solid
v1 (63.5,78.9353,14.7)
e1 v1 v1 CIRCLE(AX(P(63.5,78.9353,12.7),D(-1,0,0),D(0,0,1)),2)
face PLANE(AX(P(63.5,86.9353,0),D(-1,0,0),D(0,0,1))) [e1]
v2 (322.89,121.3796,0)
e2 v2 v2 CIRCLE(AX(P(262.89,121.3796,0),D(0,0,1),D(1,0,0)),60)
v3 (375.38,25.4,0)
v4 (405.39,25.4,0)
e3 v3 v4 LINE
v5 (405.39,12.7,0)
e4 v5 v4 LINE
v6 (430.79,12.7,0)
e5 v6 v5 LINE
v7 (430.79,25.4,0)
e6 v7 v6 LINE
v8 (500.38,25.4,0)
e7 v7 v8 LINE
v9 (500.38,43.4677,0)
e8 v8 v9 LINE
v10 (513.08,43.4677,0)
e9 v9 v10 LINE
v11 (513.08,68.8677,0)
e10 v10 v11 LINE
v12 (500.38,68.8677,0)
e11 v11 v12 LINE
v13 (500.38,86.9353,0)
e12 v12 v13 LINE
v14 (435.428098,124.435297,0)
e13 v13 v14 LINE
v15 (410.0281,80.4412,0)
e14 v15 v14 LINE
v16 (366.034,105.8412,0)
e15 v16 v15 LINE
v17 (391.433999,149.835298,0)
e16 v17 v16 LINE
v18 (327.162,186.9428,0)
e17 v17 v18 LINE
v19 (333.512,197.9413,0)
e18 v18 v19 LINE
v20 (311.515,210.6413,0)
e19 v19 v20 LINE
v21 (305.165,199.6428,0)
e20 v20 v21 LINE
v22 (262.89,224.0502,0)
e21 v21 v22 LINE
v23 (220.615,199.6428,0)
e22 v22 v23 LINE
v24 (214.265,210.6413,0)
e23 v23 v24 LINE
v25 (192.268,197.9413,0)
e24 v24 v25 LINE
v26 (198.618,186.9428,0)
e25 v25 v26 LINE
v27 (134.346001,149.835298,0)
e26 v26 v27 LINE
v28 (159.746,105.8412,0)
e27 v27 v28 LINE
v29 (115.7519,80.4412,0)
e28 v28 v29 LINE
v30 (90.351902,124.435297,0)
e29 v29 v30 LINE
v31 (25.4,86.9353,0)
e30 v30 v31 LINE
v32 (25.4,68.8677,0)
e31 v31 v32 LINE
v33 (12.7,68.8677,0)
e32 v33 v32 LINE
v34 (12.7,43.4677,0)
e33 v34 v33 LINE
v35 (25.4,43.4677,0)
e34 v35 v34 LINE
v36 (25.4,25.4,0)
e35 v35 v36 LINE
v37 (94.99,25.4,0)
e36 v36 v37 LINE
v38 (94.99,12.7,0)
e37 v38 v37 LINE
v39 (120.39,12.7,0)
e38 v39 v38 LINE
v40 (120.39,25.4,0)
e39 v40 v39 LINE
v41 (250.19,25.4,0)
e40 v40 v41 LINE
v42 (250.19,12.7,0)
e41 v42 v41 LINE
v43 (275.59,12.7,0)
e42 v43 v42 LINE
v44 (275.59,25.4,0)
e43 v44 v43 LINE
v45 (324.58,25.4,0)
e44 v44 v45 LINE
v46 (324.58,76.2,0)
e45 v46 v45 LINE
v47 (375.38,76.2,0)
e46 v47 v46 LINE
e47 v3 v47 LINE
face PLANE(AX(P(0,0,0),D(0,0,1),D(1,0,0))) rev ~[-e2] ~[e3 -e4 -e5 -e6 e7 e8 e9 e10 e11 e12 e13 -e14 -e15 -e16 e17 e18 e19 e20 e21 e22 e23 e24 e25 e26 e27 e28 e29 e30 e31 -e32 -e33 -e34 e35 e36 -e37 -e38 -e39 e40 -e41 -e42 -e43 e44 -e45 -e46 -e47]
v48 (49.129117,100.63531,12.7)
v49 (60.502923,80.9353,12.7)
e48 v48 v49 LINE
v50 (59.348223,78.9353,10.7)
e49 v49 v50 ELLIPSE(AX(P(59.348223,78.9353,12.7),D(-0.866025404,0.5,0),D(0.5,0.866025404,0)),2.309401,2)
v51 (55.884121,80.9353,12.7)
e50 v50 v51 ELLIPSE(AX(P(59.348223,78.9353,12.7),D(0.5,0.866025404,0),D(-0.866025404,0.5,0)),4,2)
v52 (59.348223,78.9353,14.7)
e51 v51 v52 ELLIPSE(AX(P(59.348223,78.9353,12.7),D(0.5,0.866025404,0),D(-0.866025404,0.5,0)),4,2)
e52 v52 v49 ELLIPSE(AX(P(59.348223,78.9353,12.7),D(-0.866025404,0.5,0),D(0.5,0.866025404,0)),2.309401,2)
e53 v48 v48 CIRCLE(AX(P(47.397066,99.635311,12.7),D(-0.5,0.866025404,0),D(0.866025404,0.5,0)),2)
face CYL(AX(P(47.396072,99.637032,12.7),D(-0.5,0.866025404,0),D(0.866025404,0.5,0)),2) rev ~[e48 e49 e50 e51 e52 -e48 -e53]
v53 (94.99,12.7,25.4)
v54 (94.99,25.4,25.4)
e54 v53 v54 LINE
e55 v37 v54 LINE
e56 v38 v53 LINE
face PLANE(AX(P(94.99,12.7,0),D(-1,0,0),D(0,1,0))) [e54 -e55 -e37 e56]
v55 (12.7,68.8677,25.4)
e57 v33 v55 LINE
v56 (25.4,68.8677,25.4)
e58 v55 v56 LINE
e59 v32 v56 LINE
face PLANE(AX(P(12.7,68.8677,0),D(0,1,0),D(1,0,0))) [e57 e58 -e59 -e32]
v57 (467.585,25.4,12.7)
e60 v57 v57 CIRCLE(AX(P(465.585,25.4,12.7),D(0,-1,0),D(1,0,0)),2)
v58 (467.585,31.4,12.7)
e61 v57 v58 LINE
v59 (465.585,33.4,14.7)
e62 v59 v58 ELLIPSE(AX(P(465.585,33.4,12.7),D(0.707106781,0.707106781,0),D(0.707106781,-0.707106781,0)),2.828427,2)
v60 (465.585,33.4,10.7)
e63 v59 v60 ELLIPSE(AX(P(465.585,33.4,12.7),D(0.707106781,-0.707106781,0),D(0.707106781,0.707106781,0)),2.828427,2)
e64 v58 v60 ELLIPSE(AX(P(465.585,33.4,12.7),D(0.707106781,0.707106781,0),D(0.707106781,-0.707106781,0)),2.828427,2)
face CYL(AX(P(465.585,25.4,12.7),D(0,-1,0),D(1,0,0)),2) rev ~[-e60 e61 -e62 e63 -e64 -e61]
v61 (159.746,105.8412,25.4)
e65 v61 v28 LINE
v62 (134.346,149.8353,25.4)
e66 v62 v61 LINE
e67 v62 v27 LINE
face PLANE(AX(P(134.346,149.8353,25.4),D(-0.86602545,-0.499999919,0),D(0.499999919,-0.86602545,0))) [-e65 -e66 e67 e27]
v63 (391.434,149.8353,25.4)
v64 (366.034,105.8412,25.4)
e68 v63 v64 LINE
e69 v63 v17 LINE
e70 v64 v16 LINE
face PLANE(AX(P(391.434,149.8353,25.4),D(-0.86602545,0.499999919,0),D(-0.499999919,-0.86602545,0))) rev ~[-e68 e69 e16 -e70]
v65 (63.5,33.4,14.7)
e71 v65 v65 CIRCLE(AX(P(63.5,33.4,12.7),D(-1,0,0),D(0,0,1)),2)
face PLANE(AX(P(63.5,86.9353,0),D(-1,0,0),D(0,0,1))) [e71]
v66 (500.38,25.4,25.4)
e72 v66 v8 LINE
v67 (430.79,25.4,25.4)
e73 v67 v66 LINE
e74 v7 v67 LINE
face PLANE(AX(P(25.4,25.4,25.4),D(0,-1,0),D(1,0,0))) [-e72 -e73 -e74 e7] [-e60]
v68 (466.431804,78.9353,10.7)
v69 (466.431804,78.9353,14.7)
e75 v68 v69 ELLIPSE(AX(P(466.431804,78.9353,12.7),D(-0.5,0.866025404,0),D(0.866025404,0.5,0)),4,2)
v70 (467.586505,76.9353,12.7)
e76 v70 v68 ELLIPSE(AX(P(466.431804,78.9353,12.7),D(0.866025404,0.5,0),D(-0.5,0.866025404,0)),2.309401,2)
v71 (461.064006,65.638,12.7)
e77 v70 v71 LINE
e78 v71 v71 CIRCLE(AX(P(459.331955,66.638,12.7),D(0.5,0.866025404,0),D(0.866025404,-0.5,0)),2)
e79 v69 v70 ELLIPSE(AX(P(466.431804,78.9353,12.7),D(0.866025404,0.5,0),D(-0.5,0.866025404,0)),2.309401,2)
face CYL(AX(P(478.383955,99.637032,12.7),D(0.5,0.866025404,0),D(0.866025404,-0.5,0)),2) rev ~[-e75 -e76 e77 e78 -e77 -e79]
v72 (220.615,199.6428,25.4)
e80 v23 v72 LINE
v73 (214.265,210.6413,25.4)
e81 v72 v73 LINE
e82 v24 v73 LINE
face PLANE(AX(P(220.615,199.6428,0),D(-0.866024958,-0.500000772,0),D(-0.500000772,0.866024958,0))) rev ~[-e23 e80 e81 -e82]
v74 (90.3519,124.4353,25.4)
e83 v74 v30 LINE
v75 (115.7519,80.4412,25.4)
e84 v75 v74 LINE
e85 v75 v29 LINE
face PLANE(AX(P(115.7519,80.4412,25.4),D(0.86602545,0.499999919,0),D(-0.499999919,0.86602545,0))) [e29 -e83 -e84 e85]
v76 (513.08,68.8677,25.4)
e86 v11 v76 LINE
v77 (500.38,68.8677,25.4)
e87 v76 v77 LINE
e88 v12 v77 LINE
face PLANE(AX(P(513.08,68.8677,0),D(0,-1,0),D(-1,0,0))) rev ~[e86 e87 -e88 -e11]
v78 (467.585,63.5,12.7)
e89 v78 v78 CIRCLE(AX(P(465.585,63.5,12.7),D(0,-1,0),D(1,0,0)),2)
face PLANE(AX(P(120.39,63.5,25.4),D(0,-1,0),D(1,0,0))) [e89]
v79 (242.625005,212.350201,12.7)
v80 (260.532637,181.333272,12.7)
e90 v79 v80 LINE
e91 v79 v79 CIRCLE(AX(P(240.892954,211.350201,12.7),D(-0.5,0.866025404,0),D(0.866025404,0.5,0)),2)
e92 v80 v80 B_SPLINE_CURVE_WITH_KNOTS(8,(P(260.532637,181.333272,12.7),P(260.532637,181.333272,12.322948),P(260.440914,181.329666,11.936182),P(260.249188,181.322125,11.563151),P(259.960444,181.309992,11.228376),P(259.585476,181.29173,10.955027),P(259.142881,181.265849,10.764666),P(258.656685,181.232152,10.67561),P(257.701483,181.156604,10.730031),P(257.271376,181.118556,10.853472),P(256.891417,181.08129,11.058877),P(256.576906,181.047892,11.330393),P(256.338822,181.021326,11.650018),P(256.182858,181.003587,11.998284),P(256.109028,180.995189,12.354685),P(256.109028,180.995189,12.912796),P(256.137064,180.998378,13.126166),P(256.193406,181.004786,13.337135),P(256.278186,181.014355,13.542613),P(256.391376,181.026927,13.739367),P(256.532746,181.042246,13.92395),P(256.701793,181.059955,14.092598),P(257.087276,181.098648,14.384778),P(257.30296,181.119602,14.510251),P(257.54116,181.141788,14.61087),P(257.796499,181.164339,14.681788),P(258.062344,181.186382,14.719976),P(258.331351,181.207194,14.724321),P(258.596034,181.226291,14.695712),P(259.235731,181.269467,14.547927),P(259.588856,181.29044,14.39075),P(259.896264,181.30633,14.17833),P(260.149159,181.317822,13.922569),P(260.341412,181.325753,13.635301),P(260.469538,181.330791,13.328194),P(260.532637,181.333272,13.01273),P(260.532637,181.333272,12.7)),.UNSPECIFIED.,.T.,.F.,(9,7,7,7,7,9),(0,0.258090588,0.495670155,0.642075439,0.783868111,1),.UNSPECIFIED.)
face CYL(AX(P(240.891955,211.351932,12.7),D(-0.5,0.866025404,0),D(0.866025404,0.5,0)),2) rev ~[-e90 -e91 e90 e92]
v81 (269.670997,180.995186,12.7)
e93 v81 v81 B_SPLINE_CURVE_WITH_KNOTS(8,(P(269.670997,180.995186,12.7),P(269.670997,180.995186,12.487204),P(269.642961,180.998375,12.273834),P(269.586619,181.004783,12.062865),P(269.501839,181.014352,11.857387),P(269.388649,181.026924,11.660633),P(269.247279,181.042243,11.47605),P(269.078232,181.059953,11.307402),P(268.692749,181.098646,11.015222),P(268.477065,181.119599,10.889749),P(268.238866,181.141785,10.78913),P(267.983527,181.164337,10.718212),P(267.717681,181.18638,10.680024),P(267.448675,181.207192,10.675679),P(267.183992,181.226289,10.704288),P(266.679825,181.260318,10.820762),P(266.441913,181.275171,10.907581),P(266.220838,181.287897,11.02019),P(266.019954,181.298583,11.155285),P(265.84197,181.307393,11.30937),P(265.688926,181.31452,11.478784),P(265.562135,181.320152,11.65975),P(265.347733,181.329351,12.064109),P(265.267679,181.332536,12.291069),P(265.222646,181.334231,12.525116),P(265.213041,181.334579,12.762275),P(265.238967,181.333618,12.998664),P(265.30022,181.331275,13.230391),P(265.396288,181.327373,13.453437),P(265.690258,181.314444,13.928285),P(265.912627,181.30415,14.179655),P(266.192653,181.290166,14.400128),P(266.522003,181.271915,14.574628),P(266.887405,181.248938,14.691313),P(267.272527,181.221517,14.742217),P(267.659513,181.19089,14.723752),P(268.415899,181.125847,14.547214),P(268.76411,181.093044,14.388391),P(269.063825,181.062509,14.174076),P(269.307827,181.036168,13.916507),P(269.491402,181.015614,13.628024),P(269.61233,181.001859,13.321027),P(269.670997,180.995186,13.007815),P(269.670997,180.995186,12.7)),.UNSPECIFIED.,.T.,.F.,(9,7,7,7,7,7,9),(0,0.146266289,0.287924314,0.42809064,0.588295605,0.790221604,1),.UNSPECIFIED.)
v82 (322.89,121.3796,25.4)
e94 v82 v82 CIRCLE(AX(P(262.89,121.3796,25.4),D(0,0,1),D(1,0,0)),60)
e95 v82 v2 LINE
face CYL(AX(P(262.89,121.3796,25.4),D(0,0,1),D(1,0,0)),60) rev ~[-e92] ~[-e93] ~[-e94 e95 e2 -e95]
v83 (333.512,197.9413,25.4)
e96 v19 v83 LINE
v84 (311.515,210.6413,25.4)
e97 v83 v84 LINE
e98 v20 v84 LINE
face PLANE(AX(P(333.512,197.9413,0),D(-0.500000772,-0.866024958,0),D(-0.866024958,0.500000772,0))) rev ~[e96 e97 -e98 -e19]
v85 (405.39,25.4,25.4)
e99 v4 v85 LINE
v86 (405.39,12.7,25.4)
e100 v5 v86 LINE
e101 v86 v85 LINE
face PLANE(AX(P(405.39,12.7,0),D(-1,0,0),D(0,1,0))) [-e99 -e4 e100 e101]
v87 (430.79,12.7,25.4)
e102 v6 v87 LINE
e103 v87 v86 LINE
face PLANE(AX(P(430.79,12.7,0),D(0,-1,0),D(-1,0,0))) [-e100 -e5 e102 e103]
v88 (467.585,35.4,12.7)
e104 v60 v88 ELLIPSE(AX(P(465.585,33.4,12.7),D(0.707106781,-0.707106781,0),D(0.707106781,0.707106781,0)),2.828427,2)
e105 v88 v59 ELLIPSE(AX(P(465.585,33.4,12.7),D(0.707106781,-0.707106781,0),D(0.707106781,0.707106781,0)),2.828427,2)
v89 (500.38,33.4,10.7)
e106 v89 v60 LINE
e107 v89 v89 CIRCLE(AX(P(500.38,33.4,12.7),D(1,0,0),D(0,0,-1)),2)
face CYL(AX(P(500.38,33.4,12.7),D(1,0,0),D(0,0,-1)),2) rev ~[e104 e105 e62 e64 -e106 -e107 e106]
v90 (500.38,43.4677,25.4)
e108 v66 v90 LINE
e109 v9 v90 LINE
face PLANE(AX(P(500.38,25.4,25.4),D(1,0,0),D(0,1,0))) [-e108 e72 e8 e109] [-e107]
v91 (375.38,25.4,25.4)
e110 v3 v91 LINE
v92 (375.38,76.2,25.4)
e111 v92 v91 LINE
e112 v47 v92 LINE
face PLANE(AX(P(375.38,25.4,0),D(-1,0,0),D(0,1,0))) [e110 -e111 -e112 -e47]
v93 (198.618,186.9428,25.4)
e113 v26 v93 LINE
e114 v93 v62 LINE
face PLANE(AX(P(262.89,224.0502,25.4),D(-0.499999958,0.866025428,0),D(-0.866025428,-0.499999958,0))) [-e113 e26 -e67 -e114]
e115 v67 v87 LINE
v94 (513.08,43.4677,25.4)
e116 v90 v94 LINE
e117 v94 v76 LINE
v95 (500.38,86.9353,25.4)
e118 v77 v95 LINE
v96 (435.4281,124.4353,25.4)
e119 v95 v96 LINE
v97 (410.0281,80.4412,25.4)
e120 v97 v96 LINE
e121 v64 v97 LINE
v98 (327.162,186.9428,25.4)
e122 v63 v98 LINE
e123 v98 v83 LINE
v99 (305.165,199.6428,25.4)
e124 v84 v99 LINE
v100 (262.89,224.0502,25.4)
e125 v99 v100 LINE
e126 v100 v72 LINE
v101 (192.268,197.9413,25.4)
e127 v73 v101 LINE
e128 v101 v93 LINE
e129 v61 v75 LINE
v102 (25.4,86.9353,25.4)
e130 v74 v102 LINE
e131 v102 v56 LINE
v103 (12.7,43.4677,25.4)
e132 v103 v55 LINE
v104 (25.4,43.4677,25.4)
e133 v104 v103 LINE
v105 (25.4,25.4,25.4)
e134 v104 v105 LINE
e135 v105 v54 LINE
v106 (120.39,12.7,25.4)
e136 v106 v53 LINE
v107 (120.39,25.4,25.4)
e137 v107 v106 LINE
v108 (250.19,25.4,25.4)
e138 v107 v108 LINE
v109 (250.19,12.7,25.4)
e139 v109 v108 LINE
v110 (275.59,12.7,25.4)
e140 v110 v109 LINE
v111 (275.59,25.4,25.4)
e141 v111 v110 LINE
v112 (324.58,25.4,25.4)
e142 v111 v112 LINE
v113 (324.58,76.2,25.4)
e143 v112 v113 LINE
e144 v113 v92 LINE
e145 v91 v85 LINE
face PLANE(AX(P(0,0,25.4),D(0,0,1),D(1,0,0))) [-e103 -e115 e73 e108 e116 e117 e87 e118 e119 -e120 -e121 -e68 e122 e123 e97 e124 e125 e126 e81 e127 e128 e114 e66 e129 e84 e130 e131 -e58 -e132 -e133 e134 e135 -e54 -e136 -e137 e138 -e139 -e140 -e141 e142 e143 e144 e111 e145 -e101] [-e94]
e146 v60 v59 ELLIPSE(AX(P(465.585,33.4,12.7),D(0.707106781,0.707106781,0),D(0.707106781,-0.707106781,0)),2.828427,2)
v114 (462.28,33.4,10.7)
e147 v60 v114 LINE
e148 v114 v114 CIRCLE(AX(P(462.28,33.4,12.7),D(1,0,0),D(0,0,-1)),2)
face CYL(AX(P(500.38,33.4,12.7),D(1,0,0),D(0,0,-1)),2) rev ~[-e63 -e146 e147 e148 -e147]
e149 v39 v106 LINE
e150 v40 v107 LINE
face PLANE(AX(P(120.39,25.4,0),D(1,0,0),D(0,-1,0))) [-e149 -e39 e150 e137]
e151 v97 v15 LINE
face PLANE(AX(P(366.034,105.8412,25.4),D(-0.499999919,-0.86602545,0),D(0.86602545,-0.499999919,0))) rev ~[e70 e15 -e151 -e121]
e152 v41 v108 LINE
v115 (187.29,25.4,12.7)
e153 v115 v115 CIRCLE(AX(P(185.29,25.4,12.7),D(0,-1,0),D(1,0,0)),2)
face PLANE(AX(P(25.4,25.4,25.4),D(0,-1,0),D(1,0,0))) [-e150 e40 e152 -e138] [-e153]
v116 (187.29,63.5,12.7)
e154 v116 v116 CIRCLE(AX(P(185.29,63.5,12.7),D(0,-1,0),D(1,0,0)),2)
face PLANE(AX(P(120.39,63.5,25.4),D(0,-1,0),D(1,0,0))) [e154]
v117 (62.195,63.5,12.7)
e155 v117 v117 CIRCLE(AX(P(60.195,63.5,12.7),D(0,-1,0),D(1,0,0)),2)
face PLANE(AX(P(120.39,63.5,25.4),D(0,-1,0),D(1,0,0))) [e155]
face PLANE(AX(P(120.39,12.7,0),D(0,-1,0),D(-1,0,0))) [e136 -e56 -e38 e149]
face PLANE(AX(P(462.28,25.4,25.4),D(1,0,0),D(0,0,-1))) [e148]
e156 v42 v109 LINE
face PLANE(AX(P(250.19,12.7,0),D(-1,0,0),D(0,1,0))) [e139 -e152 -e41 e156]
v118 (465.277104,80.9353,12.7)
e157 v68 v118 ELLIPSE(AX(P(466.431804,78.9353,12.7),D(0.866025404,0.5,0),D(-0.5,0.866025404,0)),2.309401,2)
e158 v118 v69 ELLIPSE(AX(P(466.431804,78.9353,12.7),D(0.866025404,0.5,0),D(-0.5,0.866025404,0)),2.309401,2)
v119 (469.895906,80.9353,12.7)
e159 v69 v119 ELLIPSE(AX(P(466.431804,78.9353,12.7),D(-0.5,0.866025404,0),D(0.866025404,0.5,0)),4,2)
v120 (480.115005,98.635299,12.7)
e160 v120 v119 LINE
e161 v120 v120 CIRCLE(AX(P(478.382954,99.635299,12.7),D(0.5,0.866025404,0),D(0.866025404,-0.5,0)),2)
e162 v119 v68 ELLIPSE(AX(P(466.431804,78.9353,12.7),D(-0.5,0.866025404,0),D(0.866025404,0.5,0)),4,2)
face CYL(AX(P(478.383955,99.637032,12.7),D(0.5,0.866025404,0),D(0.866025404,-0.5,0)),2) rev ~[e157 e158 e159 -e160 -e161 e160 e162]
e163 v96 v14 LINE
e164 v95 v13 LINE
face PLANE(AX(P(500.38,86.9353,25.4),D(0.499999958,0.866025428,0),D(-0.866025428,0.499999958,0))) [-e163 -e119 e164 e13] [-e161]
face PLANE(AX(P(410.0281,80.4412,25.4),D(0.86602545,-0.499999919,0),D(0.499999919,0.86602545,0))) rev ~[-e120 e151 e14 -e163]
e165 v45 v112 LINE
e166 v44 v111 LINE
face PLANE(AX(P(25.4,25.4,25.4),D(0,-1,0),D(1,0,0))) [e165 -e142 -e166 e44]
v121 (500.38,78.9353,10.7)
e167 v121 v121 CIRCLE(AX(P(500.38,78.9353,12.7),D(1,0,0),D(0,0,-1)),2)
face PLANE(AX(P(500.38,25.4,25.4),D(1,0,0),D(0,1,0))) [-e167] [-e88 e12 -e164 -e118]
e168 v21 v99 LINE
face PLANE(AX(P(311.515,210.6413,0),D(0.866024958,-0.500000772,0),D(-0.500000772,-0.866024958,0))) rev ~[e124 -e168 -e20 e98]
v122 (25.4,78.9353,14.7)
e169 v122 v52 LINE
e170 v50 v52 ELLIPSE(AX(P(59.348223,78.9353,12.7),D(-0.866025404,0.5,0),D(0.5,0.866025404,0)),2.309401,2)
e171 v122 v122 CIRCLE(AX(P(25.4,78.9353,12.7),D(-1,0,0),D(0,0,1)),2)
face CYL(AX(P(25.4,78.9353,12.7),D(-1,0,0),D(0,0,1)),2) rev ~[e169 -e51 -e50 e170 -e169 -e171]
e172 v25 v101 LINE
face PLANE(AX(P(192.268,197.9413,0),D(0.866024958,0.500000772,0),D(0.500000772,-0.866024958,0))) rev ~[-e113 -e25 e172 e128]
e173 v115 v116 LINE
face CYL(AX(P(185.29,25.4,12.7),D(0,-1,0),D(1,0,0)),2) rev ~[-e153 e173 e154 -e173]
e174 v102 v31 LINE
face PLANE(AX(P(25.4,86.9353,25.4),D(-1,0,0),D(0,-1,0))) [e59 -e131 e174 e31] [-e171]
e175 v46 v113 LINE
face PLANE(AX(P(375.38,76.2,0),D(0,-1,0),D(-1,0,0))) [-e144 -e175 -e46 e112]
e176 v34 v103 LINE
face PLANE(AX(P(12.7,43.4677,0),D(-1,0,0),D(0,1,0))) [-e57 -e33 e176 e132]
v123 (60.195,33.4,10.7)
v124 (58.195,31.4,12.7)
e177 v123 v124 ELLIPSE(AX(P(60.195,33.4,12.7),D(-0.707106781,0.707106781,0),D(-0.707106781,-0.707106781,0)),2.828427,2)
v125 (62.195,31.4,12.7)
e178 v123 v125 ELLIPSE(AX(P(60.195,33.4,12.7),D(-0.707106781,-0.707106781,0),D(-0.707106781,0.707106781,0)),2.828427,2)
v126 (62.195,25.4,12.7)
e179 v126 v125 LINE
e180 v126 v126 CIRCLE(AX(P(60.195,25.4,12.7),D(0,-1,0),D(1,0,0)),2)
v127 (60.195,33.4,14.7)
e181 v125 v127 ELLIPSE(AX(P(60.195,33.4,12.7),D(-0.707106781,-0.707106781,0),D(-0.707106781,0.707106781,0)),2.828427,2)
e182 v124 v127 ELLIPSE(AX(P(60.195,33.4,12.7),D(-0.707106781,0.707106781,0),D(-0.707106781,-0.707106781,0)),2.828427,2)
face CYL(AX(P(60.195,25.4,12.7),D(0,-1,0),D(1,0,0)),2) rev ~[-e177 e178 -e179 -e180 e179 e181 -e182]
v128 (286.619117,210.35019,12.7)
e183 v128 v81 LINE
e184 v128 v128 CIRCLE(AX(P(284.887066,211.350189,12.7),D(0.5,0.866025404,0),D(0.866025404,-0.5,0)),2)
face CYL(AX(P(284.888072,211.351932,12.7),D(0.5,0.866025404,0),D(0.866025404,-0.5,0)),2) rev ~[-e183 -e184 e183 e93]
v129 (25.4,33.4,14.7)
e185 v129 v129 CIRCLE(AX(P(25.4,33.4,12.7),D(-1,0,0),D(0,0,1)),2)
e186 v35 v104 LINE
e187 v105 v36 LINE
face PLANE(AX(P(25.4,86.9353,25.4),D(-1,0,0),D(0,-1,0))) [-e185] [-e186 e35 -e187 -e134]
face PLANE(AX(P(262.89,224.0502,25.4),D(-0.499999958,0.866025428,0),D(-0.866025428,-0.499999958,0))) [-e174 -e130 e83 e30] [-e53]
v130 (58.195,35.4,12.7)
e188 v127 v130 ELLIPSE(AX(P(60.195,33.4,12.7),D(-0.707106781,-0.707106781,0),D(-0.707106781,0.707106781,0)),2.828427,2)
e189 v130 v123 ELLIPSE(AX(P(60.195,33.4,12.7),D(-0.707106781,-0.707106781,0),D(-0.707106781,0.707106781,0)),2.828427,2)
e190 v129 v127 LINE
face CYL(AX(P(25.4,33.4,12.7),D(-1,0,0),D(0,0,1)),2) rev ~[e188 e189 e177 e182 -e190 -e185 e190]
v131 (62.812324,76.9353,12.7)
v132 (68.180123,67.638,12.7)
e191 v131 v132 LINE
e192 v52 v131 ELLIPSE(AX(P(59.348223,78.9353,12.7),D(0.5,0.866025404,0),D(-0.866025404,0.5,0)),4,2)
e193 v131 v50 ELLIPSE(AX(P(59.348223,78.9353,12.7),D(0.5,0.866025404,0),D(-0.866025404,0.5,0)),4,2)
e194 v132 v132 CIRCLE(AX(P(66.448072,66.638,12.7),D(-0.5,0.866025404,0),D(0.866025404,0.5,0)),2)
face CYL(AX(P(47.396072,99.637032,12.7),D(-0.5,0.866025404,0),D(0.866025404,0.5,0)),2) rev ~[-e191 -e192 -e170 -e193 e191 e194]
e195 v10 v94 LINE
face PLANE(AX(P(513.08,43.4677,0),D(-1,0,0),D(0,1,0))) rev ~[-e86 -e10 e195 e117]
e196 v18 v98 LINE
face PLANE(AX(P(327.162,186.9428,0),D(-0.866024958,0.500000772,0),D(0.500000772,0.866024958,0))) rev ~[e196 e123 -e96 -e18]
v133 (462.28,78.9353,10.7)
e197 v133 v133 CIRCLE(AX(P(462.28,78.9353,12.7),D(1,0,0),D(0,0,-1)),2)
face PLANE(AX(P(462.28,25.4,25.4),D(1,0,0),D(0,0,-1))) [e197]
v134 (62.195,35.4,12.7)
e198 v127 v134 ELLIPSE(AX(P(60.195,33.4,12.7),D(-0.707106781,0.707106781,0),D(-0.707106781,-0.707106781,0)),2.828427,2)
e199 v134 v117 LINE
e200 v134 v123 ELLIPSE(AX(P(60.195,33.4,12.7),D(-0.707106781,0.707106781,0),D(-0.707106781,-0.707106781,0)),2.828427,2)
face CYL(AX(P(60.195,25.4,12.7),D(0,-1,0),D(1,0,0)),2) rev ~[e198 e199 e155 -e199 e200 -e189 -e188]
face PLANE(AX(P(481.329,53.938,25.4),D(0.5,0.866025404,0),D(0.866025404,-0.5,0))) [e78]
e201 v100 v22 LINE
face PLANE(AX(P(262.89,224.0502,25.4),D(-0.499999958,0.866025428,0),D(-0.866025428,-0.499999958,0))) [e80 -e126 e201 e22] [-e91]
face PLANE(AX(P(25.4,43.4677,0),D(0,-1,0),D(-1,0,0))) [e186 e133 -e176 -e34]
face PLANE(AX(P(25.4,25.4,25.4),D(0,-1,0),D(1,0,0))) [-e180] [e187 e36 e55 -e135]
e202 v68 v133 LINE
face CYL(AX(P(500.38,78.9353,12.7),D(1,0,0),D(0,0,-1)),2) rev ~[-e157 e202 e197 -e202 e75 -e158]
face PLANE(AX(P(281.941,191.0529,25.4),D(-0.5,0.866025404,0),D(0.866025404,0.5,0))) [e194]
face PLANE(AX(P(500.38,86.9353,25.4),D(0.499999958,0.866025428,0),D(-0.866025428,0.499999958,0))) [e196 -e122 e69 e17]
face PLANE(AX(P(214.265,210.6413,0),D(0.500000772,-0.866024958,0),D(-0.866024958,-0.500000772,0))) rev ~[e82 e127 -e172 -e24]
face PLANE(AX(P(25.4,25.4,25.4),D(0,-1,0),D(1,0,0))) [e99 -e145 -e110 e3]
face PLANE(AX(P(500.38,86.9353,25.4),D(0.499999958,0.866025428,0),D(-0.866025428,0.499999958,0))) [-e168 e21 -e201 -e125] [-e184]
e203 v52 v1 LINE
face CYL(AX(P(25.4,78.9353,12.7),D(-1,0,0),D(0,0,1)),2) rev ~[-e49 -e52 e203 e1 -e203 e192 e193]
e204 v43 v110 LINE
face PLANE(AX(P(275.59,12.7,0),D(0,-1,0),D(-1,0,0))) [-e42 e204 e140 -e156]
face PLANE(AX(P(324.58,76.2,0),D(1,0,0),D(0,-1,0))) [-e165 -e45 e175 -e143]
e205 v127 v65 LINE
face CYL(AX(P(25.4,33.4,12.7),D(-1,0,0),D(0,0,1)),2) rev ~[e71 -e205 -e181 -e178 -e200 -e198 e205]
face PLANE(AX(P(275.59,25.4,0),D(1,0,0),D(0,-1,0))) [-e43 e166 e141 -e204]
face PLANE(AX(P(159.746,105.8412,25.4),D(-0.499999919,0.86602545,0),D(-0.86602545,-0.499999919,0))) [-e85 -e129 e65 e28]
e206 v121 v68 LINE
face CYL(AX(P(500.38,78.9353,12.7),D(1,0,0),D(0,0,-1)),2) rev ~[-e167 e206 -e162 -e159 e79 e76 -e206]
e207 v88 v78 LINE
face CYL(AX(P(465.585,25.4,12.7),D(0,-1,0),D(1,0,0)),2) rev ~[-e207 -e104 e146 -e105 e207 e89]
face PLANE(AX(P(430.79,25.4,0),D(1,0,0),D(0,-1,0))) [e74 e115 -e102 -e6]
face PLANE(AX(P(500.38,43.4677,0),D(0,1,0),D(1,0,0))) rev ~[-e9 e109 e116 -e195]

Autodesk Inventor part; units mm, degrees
ref_plane "YZ Plane" through (0, 0, 0) normal (1, 0, 0) x (0, 1, 0)
ref_plane "XZ Plane" through (0, 0, 0) normal (0, 1, 0) x (-1, 0, 0)
ref_plane "XY Plane" through (0, 0, 0) normal (0, 0, 1) x (1, 0, 0)
sketch "Sketch1" plane through (0, 0, 0) normal (0, 0, 1) x (1, 0, 0)
  line L0 (262.89, 253.3796) -> (525.78, 101.6)
  line L1 (525.78, 101.6) -> (525.78, -201.9592) construction
  line L2 (525.78, -201.9592) -> (262.89, -353.7388) construction
  line L3 (262.89, -353.7388) -> (0, -201.9592) construction
  line L4 (0, -201.9592) -> (0, 101.6) construction
  line L5 (0, 101.6) -> (262.89, 253.3796)
  line L6 (0, 101.6) -> (0, 0)
  line L7 (0, 0) -> (525.78, 0)
  line L8 (525.78, 0) -> (525.78, 101.6)
  point P0 (262.89, -50.1796)
  dimension "d0" = 525.78
  dimension "d1" = 101.6
extrude "Extrusion1" add sketch "Sketch1" along normal blind 25.4
sketch "Sketch2" plane through (0, 0, 25.4) normal (0, 0, 1) x (1, 0, 0)
  circle A0 centre (262.89, 121.3796) radius 60
  line L0 (0, 0) -> (525.78, 0) projected
  point P0 (262.89, 0)
  dimension "d4" = 121.3796
  dimension "d5" = 120
extrude "Extrusion2" cut sketch "Sketch2" against normal through all
sketch "Sketch3" plane through (0, 0, 25.4) normal (0, 0, 1) x (1, 0, 0)
  circle A0 centre (262.89, 121.3796) radius 60 projected
  line L0 (0, 101.6) -> (0, 0) projected
  line L1 (0, 0) -> (525.78, 0) projected
  line L2 (525.78, 0) -> (525.78, 101.6) projected
  line L3 (525.78, 101.6) -> (262.89, 253.3796) projected
  line L4 (262.89, 253.3796) -> (0, 101.6) projected
  line L5 (25.4, 86.9353) -> (25.4, 25.4)
  line L6 (25.4, 25.4) -> (500.38, 25.4)
  line L7 (500.38, 25.4) -> (500.38, 86.9353)
  line L8 (500.38, 86.9353) -> (262.89, 224.0502)
  line L9 (262.89, 224.0502) -> (25.4, 86.9353)
  dimension "d8" = 25.4
extrude "Extrusion3" cut sketch "Sketch3" against normal through all contours L4 L3 L2 L1 L0
sketch "Sketch4" plane through (0, 0, 25.4) normal (0, 0, 1) x (1, 0, 0)
  line L0 (134.346, 149.8353) -> (159.746, 105.8412)
  line L1 (159.746, 105.8412) -> (115.7519, 80.4412)
  line L2 (115.7519, 80.4412) -> (90.3519, 124.4353)
  line L3 (90.3519, 124.4353) -> (134.346, 149.8353)
  line L4 (134.346, 149.8353) -> (115.7519, 80.4412) construction
  line L5 (159.746, 105.8412) -> (90.3519, 124.4353) construction
  line L6 (262.89, 224.0502) -> (25.4, 86.9353) projected
  line L7 (500.38, 86.9353) -> (262.89, 224.0502) projected
  line L8 (262.89, 224.0502) -> (262.89, 25.4)
  line L9 (25.4, 25.4) -> (500.38, 25.4) projected
  line L10 (391.434, 149.8353) -> (366.034, 105.8412)
  line L11 (366.034, 105.8412) -> (410.0281, 80.4412)
  line L12 (410.0281, 80.4412) -> (435.4281, 124.4353)
  line L13 (435.4281, 124.4353) -> (391.434, 149.8353)
  line L14 (391.434, 149.8353) -> (410.0281, 80.4412) construction
  line L15 (366.034, 105.8412) -> (435.4281, 124.4353) construction
  point P0 (0, 0)
  point P1 (125.049, 115.1383)
  point P2 (400.731, 115.1383)
  point P3 (381.635, 155.4928)
  dimension "d11" = 50.8
  dimension "d12" = 50.8
  dimension "d15" = 75
extrude "Extrusion4" cut sketch "Sketch4" against normal through all
sketch "Sketch5" plane through (0, 0, 0) normal (0, 0, -1) x (-1, 0, 0)
  line L0 (-25.4, 86.9353) -> (-25.4, 25.4) projected
  line L1 (-25.4, 43.4677) -> (-12.7, 43.4677)
  line L2 (-12.7, 43.4677) -> (-12.7, 68.8677)
  line L3 (-12.7, 68.8677) -> (-25.4, 68.8677)
  line L4 (-25.4, 68.8677) -> (-25.4, 43.4677)
  line L5 (-25.4, 25.4) -> (-500.38, 25.4) projected
  line L6 (-94.99, 25.4) -> (-120.39, 25.4)
  line L7 (-120.39, 25.4) -> (-120.39, 12.7)
  line L8 (-120.39, 12.7) -> (-94.99, 12.7)
  line L9 (-94.99, 12.7) -> (-94.99, 25.4)
  line L10 (-405.39, 25.4) -> (-430.79, 25.4)
  line L11 (-430.79, 25.4) -> (-430.79, 12.7)
  line L12 (-430.79, 12.7) -> (-405.39, 12.7)
  line L13 (-405.39, 12.7) -> (-405.39, 25.4)
  line L14 (-500.38, 25.4) -> (-500.38, 86.9353) projected
  line L15 (-500.38, 43.4677) -> (-513.08, 43.4677)
  line L16 (-513.08, 43.4677) -> (-513.08, 68.8677)
  line L17 (-513.08, 68.8677) -> (-500.38, 68.8677)
  line L18 (-500.38, 68.8677) -> (-500.38, 43.4677)
  line L19 (-262.89, 224.0502) -> (-134.346, 149.8353) projected
  line L20 (-198.618, 186.9428) -> (-220.615, 199.6428)
  line L21 (-220.615, 199.6428) -> (-214.265, 210.6413)
  line L22 (-214.265, 210.6413) -> (-192.268, 197.9413)
  line L23 (-192.268, 197.9413) -> (-198.618, 186.9428)
  line L24 (-391.434, 149.8353) -> (-262.89, 224.0502) projected
  line L25 (-305.165, 199.6428) -> (-327.162, 186.9428)
  line L26 (-327.162, 186.9428) -> (-333.512, 197.9413)
  line L27 (-333.512, 197.9413) -> (-311.515, 210.6413)
  line L28 (-311.515, 210.6413) -> (-305.165, 199.6428)
  line L29 (-262.89, 224.0502) -> (-391.434, 149.8353) projected
  line L30 (-120.39, 19.05) -> (-405.39, 19.05) construction
  line L31 (-250.19, 25.4) -> (-275.59, 25.4)
  line L32 (-275.59, 25.4) -> (-275.59, 12.7)
  line L33 (-275.59, 12.7) -> (-250.19, 12.7)
  line L34 (-250.19, 12.7) -> (-250.19, 25.4)
  line L35 (-500.38, 25.4) -> (-25.4, 25.4) projected
  line L36 (-305.165, 199.6428) -> (-311.515, 210.6413)
  line L37 (-311.515, 210.6413) -> (-333.512, 197.9413)
  line L38 (-333.512, 197.9413) -> (-327.162, 186.9428)
  line L39 (-327.162, 186.9428) -> (-305.165, 199.6428)
  point P0 (0, 0)
  point P1 (-25.4, 56.1677)
  point P2 (-262.89, 25.4)
  point P3 (-262.89, 19.05)
  point P4 (-262.89, 25.4)
  dimension "d16" = 12.7
  dimension "d17" = 12.7
  dimension "d18" = 12.7
  dimension "d19" = 12.7
  dimension "d20" = 12.7
  dimension "d21" = 12.7
  dimension "d22" = 25.4
  dimension "d23" = 25.4
  dimension "d24" = 25.4
  dimension "d25" = 25.4
  dimension "d26" = 25.4
  dimension "d27" = 25.4
  dimension "d28" = 285
  dimension "d29" = 25.4
  dimension "d30" = 12.7
extrude "Extrusion5" add sketch "Sketch5" against normal blind 25.4
sketch "Sketch6" plane through (0, 0, 0) normal (0, 0, -1) x (-1, 0, 0)
  line L0 (-275.59, 25.4) -> (-405.39, 25.4) projected
  line L1 (-324.58, 25.4) -> (-375.38, 25.4)
  line L2 (-375.38, 25.4) -> (-375.38, 76.2)
  line L3 (-375.38, 76.2) -> (-324.58, 76.2)
  line L4 (-324.58, 76.2) -> (-324.58, 25.4)
  line L5 (-500.38, 43.4677) -> (-500.38, 25.4) projected
  point P0 (0, 0)
  dimension "d33" = 50.8
  dimension "d34" = 50.8
  dimension "d35" = 125
extrude "Extrusion6" cut sketch "Sketch6" against normal through all
sketch "Sketch8" plane through (500.38, 86.9353, 25.4) normal (0.5, 0.866, 0) x (0.866, -0.5, 0)
  circle A0 centre (-248.8298, 12.7) radius 2
  circle A1 centre (-25.4, 12.7) radius 2
  line L0 (0, 0) -> (0, 25.4) projected
  line L1 (-274.2298, 0) -> (-274.2298, 25.4) projected
  point P0 (-389.8741, 25.4)
  point P1 (0, 12.7)
  dimension "d44" = 4
  dimension "d45" = 4
  dimension "d46" = 25.4
  dimension "d47" = 25.4
extrude "Extrusion8" cut sketch "Sketch8" against normal blind 38.1
sketch "Sketch9" plane through (262.89, 224.0502, 25.4) normal (-0.5, 0.866, 0) x (0.866, 0.5, 0)
  line L0 (0, 0) -> (0, 25.4) projected
  line L1 (-274.2298, 0) -> (-274.2298, 25.4) projected
  circle A0 centre (-25.4, 12.7) radius 2
  circle A1 centre (-248.8298, 12.7) radius 2
  point P0 (-339.6945, 25.4)
  point P1 (-274.2298, 12.7)
  dimension "d50" = 4
  dimension "d51" = 4
  dimension "d52" = 25.4
  dimension "d53" = 25.4
extrude "Extrusion9" cut sketch "Sketch9" against normal blind 38.1
sketch "Sketch10" plane through (500.38, 25.4, 25.4) normal (1, 0, 0) x (0, 0, -1)
  line L0 (0, 0) -> (25.4, 0) projected
  line L1 (0, 61.5353) -> (25.4, 61.5353) projected
  circle A0 centre (12.7, 8) radius 2
  circle A1 centre (12.7, 53.5353) radius 2
  point P0 (25.4, -25.4)
  point P1 (12.7, 0)
  point P2 (12.7, 61.5353)
  dimension "d56" = 4
  dimension "d57" = 4
  dimension "d58" = 8
  dimension "d59" = 8
extrude "Extrusion10" cut sketch "Sketch10" against normal blind 38.1
sketch "Sketch11" plane through (25.4, 86.9353, 0) normal (-1, 0, 0) x (0, 0, 1)
  circle A0 centre (12.7, -8) radius 2 projected
  circle A1 centre (12.7, -53.5353) radius 2 projected
  point P0 (0, -86.9353)
extrude "Extrusion11" cut sketch "Sketch11" against normal blind 38.1
sketch "Sketch12" plane through (120.39, 25.4, 25.4) normal (0, -1, 0) x (1, 0, 0)
  circle A0 centre (-60.195, -12.7) radius 2
  circle A1 centre (64.9, -12.7) radius 2
  circle A2 centre (345.195, -12.7) radius 2
  line L0 (310.4, 0) -> (379.99, 0) projected
  line L1 (0, 0) -> (129.8, 0) projected
  line L2 (-94.99, 0) -> (-25.4, 0) projected
  line L3 (379.99, 0) -> (379.99, -25.4) projected
  point P0 (-120.39, -25.4)
  point P1 (345.195, 0)
  point P2 (64.9, 0)
  point P3 (-60.195, 0)
  point P4 (379.99, -12.7)
  dimension "d64" = 4
  dimension "d65" = 4
  dimension "d66" = 4
extrude "Extrusion12" cut sketch "Sketch12" against normal blind 38.1
properties part number "HB04" material "Polyethylene, High Density"
